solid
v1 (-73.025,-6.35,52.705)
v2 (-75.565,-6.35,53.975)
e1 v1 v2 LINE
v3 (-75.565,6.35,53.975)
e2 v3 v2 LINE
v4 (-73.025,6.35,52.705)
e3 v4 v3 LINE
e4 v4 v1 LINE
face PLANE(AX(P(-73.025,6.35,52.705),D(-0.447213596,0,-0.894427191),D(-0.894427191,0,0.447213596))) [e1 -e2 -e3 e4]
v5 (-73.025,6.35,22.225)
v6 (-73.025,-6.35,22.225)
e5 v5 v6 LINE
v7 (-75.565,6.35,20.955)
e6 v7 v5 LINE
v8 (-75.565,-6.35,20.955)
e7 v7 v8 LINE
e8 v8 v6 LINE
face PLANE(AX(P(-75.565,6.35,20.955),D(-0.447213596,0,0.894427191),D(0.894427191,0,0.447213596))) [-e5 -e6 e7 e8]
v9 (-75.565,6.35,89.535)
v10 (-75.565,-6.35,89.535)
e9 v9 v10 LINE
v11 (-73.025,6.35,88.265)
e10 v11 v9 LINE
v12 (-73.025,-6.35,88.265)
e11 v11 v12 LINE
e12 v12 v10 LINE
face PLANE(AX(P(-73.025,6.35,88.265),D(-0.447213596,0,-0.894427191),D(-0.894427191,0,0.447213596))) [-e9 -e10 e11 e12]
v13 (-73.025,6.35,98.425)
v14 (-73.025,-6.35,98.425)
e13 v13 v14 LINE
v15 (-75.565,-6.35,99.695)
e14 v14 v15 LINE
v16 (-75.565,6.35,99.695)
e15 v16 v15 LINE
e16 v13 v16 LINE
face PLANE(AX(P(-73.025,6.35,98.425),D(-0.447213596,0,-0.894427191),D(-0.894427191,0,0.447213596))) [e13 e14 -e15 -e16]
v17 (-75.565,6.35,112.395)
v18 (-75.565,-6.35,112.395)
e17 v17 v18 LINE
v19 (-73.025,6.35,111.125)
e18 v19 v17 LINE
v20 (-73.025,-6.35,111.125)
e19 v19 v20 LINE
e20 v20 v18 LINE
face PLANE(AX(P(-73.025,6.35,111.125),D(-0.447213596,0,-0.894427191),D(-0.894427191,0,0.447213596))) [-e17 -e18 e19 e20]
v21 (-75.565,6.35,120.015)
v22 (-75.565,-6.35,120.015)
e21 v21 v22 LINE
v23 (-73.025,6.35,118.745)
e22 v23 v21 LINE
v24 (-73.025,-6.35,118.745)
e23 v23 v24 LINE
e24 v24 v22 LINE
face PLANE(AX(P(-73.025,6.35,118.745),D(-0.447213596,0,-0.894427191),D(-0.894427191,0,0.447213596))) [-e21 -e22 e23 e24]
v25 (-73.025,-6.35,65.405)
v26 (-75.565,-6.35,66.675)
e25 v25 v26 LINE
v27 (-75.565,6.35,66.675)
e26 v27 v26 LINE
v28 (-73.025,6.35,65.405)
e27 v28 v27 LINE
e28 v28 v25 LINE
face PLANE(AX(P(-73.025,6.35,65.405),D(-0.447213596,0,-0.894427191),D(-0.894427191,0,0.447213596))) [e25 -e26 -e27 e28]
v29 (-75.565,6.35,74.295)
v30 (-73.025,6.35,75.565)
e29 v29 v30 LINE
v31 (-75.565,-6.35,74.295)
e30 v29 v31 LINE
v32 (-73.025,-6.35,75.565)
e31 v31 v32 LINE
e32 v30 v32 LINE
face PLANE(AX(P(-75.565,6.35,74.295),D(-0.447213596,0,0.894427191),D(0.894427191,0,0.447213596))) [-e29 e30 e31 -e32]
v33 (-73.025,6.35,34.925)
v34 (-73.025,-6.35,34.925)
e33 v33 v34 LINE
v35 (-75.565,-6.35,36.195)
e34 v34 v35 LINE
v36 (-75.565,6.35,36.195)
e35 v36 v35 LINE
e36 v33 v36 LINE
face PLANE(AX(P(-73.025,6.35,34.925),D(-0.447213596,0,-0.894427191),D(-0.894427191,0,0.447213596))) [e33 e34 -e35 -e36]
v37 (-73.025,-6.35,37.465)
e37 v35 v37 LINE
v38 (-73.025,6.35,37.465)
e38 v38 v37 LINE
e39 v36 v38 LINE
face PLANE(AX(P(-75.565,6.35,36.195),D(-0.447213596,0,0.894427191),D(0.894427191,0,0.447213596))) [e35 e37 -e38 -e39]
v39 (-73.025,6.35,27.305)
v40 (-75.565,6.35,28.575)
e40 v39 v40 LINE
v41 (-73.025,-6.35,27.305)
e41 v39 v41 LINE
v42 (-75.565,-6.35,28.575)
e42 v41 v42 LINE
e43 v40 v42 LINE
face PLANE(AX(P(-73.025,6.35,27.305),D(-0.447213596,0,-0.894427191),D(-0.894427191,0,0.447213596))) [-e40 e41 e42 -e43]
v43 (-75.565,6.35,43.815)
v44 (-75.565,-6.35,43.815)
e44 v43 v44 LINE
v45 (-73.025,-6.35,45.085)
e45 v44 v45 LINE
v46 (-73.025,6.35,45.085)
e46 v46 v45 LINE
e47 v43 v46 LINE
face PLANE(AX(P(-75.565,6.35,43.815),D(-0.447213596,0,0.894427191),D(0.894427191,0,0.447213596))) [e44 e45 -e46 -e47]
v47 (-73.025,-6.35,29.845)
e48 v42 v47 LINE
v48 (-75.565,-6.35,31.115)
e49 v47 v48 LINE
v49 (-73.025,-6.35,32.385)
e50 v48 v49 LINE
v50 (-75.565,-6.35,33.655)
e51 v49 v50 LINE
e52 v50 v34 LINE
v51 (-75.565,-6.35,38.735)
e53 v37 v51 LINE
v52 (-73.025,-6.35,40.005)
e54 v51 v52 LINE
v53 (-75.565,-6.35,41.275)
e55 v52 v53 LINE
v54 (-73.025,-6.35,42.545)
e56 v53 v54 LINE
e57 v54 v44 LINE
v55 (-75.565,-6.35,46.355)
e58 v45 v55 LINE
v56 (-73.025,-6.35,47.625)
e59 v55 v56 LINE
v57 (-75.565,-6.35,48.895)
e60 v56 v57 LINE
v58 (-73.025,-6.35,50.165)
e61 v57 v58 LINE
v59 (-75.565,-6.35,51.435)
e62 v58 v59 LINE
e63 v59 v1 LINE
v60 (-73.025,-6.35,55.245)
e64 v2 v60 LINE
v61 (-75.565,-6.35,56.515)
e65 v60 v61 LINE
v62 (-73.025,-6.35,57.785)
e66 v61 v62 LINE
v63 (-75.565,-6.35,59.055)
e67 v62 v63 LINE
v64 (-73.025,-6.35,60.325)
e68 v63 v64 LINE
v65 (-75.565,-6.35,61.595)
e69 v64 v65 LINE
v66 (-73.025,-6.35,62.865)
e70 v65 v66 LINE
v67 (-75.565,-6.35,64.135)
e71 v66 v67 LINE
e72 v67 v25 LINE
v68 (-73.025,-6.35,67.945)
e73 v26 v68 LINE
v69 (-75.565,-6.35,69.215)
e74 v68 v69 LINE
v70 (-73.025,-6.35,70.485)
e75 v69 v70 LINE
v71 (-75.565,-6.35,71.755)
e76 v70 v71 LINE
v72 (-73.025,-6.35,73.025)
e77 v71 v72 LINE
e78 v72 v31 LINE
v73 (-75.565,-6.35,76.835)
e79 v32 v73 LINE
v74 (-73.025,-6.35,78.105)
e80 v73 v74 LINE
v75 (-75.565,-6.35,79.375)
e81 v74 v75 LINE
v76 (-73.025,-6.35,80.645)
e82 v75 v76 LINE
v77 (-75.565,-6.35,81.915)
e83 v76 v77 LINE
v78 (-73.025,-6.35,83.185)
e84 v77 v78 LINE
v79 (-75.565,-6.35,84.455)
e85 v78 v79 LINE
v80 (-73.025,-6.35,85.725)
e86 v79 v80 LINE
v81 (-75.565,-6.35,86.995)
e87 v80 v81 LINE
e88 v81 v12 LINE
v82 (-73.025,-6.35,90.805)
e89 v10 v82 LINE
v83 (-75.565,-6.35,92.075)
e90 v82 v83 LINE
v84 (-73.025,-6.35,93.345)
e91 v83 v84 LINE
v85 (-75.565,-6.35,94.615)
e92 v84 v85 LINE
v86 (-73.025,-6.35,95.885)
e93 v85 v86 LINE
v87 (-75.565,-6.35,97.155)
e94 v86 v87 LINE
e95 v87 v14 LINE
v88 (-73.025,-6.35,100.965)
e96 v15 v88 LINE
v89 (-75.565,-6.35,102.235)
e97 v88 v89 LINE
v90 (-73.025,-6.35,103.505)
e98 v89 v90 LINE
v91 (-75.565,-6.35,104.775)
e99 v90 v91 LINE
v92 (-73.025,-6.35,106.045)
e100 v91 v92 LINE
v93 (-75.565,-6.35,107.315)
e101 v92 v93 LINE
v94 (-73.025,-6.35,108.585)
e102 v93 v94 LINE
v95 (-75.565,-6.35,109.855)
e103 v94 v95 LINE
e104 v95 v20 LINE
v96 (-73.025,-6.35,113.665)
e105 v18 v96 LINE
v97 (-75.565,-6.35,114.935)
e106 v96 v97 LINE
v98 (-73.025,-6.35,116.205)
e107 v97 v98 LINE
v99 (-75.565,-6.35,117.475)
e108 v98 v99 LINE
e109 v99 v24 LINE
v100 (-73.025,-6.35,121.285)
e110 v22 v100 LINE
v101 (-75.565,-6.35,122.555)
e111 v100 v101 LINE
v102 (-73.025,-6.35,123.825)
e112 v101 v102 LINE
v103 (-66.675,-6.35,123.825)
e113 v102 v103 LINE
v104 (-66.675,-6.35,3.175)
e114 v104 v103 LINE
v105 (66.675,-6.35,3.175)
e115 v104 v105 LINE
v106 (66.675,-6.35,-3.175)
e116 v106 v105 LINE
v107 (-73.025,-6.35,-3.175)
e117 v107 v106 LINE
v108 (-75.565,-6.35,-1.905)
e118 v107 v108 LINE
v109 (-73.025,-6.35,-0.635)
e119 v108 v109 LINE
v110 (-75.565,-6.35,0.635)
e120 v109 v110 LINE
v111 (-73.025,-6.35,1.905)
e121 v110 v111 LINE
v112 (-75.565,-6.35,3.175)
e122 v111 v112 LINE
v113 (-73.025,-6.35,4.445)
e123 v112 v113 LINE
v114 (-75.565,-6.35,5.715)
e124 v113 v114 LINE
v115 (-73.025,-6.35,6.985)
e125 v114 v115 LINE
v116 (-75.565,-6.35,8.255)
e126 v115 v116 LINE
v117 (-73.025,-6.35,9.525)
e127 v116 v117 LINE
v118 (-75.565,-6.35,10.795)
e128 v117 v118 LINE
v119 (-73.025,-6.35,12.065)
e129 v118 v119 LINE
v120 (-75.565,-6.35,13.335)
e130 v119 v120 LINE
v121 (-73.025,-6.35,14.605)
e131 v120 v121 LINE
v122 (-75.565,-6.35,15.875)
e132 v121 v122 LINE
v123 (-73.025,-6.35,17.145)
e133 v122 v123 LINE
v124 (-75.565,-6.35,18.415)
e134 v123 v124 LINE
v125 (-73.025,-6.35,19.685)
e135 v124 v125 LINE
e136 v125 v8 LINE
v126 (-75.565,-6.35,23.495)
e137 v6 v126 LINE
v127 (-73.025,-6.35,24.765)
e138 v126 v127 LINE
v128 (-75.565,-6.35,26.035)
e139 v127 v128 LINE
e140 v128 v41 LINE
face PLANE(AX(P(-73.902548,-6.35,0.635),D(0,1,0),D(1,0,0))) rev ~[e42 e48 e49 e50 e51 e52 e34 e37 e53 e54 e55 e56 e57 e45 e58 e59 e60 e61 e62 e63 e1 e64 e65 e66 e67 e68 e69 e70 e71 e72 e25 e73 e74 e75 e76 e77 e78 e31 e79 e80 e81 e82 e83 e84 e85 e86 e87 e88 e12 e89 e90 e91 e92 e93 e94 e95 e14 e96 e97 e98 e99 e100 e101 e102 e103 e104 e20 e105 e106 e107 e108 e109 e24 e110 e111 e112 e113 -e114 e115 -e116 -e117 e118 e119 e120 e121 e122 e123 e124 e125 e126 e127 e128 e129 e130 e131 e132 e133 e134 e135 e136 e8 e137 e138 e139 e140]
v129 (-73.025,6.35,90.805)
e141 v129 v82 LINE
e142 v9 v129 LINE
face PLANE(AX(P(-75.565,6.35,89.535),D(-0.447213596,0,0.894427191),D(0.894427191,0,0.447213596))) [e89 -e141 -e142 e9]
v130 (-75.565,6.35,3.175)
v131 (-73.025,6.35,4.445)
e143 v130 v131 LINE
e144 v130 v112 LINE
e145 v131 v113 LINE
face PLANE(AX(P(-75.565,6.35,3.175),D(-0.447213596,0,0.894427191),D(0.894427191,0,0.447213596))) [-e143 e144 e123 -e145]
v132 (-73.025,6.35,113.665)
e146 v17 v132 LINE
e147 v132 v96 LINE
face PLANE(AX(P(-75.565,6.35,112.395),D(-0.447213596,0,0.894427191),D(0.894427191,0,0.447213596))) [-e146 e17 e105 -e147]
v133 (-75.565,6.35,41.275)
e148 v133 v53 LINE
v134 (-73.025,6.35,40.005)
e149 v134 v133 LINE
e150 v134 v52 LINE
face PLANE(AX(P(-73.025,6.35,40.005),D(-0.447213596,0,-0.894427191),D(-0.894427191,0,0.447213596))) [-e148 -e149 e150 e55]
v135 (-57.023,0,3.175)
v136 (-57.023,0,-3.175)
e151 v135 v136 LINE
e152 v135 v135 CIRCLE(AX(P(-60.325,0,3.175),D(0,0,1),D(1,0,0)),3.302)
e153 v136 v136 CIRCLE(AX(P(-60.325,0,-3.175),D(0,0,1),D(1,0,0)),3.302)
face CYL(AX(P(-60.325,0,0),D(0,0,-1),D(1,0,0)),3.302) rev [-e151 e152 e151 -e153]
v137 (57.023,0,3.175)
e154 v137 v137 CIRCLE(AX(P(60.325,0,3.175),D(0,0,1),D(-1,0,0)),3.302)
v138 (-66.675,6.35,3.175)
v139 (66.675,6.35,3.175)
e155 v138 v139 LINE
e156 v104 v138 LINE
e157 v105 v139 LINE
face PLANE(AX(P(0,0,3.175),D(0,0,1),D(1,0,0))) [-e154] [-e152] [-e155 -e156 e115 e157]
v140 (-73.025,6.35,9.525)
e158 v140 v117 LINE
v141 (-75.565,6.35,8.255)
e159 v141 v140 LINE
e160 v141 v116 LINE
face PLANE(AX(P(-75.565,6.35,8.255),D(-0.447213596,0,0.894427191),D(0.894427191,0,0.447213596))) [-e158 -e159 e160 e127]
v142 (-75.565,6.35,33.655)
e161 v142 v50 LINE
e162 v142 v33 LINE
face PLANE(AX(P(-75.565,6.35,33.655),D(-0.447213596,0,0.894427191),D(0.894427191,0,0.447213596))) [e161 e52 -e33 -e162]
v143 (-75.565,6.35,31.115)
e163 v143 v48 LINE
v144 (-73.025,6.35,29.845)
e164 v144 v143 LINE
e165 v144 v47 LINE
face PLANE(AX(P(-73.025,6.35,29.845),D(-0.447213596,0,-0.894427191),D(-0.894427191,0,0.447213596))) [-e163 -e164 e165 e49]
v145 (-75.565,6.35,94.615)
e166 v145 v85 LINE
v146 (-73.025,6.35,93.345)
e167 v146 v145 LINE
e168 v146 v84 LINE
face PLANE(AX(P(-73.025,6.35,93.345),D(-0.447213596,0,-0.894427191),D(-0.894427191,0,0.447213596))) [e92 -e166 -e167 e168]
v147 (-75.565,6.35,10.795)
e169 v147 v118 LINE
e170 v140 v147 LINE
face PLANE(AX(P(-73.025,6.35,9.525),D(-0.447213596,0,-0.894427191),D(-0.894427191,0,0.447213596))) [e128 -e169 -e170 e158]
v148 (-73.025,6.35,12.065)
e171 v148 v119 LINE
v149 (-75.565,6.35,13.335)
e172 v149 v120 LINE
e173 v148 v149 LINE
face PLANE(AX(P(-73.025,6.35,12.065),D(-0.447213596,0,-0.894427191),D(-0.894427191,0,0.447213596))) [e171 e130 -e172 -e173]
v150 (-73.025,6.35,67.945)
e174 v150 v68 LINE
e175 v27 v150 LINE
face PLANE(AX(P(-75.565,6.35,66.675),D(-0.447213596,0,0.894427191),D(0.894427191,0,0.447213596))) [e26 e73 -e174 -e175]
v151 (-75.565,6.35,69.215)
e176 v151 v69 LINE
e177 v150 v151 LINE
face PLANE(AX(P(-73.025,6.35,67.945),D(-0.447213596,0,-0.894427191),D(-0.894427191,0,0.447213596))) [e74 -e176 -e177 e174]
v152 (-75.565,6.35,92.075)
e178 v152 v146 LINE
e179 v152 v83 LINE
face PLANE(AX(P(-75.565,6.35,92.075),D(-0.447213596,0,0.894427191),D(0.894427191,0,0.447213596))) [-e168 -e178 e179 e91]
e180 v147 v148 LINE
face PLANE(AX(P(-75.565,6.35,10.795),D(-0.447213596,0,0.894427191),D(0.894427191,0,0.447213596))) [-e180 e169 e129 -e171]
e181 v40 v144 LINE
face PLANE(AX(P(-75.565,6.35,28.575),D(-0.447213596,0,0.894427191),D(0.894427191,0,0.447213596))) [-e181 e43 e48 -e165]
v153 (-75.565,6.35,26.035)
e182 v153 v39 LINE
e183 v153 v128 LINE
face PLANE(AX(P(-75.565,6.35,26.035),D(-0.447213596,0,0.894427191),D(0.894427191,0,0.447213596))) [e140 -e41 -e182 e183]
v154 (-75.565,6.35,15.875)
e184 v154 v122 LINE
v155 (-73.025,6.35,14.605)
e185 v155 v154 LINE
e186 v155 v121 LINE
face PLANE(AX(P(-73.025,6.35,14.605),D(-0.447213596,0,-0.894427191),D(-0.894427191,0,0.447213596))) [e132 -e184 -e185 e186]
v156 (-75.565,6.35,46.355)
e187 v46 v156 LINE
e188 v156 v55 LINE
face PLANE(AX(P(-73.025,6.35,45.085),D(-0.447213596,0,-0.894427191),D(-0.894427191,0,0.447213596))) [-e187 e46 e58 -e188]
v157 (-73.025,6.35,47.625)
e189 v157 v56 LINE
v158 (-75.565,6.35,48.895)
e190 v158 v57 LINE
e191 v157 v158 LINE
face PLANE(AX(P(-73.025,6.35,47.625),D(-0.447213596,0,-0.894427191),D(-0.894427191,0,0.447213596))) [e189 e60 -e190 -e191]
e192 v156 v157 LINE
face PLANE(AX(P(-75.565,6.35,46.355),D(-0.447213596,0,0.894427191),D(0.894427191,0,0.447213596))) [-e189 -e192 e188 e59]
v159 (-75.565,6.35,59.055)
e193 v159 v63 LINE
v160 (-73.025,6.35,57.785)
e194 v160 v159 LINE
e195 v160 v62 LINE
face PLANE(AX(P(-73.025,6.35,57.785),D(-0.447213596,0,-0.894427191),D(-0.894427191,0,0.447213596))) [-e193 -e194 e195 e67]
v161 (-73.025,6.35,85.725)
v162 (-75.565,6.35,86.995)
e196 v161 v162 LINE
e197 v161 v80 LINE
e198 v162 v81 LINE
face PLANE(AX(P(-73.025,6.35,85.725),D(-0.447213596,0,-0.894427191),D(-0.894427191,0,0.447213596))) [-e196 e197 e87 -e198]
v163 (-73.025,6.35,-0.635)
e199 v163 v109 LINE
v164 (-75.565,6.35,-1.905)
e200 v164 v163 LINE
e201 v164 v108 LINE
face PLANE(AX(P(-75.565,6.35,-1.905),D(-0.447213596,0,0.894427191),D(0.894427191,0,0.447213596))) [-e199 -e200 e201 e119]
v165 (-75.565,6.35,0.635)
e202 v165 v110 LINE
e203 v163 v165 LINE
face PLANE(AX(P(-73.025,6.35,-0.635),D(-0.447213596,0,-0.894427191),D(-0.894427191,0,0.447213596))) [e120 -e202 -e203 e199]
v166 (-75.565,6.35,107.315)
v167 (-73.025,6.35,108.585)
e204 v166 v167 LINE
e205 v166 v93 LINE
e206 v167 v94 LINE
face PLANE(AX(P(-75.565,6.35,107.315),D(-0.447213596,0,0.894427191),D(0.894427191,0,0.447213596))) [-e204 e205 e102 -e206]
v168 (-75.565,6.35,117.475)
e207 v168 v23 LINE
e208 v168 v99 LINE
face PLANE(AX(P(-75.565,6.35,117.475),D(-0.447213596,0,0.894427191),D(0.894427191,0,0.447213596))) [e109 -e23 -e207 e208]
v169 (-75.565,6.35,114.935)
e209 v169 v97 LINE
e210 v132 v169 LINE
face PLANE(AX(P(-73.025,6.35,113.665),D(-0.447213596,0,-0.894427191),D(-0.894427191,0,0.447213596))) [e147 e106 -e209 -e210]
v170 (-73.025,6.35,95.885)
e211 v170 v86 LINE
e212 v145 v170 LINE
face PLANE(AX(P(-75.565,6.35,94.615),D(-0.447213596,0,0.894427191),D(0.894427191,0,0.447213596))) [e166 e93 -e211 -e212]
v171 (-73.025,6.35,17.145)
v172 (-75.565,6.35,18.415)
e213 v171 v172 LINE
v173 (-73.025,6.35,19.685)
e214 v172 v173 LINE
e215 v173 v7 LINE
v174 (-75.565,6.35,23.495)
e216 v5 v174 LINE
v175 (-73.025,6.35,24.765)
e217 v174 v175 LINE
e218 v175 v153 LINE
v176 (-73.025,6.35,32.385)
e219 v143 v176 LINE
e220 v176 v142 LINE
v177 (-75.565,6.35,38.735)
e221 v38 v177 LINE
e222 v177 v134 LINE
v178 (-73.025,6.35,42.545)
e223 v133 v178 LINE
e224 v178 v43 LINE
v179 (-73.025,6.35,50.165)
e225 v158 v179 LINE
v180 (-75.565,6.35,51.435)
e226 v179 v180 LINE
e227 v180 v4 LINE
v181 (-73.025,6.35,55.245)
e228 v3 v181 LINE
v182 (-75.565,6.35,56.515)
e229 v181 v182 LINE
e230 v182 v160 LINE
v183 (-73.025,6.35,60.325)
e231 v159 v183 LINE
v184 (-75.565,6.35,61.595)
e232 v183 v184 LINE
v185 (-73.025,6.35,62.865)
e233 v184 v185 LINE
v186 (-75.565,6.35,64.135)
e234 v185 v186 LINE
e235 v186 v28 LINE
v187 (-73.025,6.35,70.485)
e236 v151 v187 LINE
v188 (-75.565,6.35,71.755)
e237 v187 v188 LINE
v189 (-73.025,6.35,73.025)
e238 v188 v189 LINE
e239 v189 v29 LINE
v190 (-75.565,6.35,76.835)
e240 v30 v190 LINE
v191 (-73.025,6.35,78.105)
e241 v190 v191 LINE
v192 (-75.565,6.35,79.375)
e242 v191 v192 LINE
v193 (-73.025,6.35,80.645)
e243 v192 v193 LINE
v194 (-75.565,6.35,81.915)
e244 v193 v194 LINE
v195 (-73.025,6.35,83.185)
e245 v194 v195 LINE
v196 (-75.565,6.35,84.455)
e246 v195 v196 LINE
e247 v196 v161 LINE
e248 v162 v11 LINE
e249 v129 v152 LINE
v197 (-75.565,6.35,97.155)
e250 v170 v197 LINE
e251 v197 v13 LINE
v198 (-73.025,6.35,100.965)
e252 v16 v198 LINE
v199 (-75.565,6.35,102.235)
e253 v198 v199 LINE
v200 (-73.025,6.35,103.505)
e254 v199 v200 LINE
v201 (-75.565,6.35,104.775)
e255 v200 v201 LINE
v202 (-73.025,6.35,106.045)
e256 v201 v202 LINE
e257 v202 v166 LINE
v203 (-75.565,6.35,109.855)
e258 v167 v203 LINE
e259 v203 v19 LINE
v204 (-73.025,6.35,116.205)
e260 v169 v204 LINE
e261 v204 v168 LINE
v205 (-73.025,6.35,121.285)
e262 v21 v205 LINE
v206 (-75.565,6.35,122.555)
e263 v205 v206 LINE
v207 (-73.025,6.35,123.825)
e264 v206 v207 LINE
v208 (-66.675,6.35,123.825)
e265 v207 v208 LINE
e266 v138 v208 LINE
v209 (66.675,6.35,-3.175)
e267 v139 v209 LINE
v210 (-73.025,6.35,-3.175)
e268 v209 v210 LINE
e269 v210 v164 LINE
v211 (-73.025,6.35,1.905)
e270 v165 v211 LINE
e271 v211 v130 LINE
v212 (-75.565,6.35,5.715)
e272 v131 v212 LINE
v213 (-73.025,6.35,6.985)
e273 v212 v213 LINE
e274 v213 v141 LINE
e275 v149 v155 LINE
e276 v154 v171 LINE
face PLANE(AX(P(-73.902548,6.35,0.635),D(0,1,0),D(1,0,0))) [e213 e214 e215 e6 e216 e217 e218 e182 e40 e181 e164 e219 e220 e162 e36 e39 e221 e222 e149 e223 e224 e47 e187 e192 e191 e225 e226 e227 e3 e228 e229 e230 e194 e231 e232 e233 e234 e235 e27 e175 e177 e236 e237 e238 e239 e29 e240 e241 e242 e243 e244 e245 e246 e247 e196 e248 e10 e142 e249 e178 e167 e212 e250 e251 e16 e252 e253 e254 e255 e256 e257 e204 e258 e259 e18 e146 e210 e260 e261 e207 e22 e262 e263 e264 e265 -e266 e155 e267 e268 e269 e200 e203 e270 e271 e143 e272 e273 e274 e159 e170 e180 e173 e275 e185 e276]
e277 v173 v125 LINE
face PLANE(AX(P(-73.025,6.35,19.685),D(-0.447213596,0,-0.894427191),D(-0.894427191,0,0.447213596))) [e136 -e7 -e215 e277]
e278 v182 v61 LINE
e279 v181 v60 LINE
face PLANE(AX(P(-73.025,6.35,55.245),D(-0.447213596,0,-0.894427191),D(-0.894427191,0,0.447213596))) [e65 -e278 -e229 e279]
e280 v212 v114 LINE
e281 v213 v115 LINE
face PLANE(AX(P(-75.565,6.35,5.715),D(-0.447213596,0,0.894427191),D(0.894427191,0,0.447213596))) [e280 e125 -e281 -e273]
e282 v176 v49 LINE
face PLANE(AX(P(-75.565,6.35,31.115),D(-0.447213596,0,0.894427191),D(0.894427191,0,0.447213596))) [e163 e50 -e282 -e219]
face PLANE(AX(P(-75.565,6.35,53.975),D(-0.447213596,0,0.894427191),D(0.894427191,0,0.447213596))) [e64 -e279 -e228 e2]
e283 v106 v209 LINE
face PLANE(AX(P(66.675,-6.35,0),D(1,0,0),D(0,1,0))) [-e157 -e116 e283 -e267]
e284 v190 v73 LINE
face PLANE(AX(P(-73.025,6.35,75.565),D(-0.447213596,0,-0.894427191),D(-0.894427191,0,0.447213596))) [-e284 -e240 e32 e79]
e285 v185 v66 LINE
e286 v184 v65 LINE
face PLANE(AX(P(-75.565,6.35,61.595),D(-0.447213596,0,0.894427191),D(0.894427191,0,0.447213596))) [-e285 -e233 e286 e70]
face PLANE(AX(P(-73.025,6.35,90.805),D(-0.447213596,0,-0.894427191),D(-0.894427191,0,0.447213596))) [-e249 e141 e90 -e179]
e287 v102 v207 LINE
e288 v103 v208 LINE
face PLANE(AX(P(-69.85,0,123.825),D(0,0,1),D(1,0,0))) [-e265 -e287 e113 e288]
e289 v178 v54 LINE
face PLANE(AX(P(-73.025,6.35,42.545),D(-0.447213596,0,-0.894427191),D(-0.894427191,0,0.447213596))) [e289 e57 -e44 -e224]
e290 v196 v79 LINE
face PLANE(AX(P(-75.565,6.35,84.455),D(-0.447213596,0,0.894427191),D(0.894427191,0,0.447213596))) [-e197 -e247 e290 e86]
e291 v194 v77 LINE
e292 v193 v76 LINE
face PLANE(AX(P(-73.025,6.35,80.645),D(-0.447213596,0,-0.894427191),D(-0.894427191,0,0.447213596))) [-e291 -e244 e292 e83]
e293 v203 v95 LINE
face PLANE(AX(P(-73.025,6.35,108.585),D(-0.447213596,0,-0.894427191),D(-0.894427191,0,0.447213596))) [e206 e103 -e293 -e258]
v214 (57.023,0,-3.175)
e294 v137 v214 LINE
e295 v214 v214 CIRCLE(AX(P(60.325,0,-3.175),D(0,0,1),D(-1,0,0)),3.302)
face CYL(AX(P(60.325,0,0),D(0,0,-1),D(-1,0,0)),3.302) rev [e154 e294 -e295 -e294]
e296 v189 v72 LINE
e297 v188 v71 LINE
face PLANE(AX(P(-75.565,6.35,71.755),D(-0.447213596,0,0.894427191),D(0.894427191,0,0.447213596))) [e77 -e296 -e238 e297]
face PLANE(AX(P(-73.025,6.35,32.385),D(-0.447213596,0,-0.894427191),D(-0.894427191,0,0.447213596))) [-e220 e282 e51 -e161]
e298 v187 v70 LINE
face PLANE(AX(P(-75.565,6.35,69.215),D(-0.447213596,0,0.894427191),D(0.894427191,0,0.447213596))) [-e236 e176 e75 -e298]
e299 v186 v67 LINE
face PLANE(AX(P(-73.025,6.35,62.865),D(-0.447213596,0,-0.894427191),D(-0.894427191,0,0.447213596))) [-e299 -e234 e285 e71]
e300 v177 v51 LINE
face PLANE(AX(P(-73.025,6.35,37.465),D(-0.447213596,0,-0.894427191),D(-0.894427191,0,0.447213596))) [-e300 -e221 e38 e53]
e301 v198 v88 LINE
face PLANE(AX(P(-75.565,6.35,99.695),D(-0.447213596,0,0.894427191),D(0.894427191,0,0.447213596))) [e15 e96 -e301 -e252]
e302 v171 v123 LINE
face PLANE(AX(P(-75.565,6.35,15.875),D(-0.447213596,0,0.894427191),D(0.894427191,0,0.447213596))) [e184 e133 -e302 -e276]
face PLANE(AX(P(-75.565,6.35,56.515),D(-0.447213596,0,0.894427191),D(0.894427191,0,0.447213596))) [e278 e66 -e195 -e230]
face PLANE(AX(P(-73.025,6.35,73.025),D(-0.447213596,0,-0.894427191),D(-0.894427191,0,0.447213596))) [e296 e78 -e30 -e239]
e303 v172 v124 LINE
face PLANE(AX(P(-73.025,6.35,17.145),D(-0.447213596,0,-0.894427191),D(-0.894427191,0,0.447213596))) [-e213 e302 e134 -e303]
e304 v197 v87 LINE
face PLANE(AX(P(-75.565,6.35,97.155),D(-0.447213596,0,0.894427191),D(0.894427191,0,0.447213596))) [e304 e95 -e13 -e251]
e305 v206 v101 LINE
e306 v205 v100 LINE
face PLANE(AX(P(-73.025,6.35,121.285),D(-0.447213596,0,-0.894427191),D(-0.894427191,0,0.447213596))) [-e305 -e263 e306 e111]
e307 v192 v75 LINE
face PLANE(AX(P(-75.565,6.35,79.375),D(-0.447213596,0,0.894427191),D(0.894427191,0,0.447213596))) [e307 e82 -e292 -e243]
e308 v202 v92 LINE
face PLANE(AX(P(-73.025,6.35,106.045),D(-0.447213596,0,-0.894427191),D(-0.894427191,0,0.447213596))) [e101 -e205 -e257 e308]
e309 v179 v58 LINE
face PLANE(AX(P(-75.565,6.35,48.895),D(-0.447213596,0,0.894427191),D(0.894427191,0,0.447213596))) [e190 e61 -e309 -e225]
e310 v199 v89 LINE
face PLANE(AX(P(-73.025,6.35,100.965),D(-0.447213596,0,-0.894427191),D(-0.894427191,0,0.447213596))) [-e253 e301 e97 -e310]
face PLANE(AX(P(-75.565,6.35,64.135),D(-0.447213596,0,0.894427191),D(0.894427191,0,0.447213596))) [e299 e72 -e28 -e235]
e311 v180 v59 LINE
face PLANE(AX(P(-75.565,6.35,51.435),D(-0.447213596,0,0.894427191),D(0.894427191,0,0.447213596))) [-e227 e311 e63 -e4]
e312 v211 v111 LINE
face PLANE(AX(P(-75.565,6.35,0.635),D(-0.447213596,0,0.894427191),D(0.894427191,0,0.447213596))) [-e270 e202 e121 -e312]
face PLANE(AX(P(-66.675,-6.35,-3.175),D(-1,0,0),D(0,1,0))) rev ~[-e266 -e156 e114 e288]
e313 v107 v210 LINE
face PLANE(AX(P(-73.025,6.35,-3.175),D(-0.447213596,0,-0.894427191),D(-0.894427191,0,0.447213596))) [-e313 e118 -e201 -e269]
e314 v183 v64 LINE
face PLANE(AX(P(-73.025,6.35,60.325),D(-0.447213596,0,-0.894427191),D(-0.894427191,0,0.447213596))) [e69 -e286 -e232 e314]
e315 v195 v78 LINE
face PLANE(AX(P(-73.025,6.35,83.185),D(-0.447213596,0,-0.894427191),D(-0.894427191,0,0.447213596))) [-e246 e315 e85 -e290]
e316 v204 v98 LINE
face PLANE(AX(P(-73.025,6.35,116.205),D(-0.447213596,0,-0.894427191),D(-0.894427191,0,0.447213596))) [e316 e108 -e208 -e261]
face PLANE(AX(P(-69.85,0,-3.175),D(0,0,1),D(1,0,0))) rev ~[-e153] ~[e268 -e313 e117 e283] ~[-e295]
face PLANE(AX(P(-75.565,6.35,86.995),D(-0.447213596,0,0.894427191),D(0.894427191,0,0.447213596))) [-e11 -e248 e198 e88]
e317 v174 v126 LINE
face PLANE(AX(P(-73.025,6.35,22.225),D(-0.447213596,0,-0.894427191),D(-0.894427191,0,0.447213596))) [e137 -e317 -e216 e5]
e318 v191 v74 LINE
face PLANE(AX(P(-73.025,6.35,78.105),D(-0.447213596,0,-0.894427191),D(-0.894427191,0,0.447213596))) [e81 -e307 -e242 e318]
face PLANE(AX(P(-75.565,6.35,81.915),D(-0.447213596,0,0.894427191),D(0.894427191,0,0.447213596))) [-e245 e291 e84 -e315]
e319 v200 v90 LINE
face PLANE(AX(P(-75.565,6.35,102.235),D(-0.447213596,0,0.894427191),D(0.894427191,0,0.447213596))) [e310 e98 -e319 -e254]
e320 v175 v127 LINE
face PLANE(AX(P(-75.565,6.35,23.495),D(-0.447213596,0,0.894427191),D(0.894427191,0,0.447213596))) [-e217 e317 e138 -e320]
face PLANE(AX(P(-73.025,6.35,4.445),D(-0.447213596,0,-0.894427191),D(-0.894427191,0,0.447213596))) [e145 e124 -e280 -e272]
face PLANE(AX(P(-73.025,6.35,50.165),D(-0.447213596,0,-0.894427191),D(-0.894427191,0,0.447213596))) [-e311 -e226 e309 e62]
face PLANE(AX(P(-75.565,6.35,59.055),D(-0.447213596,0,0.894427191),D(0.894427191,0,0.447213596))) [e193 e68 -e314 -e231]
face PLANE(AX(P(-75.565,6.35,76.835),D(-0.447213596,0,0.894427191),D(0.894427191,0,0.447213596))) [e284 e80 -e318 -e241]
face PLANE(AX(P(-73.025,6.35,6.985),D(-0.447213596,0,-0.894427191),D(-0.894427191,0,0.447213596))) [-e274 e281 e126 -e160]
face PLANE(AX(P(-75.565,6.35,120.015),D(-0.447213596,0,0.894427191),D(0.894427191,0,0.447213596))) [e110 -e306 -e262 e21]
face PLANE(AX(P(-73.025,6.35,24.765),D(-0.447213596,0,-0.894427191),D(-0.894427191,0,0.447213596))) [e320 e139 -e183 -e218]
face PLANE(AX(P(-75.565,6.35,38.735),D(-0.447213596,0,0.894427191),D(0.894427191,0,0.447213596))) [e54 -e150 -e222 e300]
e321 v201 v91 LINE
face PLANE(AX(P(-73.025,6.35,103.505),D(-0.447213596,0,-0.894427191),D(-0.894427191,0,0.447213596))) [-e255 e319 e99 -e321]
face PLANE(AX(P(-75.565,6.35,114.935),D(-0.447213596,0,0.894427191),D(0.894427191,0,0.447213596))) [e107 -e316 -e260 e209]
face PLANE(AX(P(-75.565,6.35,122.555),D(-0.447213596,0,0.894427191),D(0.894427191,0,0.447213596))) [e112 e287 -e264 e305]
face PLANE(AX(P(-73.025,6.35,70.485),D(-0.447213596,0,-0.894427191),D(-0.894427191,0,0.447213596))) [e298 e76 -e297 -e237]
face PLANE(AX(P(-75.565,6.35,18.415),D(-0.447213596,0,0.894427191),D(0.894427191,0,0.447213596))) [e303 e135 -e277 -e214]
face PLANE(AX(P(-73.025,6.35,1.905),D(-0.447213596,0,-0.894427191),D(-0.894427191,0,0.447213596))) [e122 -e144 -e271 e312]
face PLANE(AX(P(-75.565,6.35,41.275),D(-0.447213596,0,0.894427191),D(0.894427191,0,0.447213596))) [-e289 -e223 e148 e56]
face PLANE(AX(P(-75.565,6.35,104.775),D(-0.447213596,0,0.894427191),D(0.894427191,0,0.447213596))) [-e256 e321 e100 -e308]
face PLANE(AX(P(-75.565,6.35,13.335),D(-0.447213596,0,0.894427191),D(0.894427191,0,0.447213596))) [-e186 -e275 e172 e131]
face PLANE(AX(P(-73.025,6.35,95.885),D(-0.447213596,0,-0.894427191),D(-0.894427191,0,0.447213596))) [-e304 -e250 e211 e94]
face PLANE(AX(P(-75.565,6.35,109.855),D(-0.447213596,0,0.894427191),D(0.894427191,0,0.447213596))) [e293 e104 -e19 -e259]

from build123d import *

# Parameters (mm, degrees)
SKETCH1_W           = 133.35
SKETCH1_H           = 12.7
SKETCH1_R           = 3.302
BOSS_EXTRUDE1_DEPTH = 3.175
BOSS_EXTRUDE2_START = -3.175
SKETCH2_W           = 6.35
SKETCH2_H           = 12.7
BOSS_EXTRUDE2_DEPTH = 127
BOSS_EXTRUDE3_DEPTH = 12.7
LPATTERN1_COUNT     = 50
LPATTERN1_PITCH     = 2.54


with BuildPart() as part:
    # Sketch1 → Boss-Extrude1 (new, symmetric)
    with BuildSketch(Plane.XY):
        Rectangle(SKETCH1_W, SKETCH1_H)
        with Locations((-60.325, 0)):
            Circle(SKETCH1_R, mode=Mode.SUBTRACT)
        with Locations(Location((60.325, 0, 0), (0, 0, 180))):
            Circle(SKETCH1_R, mode=Mode.SUBTRACT)
    extrude(amount=BOSS_EXTRUDE1_DEPTH, both=True)

    # Sketch2 → Boss-Extrude2 (add)
    with BuildSketch(Plane.XY.offset(BOSS_EXTRUDE2_START)):
        with Locations((-69.85, 0)):
            Rectangle(SKETCH2_W, SKETCH2_H)
    extrude(amount=BOSS_EXTRUDE2_DEPTH)

    # Sketch4 → Boss-Extrude3 (add)
    with BuildSketch(Plane(origin=(0, 6.35, 0), x_dir=(1, 0, 0), z_dir=(0, 1, 0))):
        Polygon((-73.025, 3.175), (-75.565, 1.905), (-73.025, 0.635), align=None)
    boss_extrude3 = extrude(amount=-BOSS_EXTRUDE3_DEPTH)

    # LPattern1: Boss-Extrude3 ×50
    with Locations(*[(0, 0, i * LPATTERN1_PITCH) for i in range(1, LPATTERN1_COUNT)]):
        add(boss_extrude3)


solid = part.part
